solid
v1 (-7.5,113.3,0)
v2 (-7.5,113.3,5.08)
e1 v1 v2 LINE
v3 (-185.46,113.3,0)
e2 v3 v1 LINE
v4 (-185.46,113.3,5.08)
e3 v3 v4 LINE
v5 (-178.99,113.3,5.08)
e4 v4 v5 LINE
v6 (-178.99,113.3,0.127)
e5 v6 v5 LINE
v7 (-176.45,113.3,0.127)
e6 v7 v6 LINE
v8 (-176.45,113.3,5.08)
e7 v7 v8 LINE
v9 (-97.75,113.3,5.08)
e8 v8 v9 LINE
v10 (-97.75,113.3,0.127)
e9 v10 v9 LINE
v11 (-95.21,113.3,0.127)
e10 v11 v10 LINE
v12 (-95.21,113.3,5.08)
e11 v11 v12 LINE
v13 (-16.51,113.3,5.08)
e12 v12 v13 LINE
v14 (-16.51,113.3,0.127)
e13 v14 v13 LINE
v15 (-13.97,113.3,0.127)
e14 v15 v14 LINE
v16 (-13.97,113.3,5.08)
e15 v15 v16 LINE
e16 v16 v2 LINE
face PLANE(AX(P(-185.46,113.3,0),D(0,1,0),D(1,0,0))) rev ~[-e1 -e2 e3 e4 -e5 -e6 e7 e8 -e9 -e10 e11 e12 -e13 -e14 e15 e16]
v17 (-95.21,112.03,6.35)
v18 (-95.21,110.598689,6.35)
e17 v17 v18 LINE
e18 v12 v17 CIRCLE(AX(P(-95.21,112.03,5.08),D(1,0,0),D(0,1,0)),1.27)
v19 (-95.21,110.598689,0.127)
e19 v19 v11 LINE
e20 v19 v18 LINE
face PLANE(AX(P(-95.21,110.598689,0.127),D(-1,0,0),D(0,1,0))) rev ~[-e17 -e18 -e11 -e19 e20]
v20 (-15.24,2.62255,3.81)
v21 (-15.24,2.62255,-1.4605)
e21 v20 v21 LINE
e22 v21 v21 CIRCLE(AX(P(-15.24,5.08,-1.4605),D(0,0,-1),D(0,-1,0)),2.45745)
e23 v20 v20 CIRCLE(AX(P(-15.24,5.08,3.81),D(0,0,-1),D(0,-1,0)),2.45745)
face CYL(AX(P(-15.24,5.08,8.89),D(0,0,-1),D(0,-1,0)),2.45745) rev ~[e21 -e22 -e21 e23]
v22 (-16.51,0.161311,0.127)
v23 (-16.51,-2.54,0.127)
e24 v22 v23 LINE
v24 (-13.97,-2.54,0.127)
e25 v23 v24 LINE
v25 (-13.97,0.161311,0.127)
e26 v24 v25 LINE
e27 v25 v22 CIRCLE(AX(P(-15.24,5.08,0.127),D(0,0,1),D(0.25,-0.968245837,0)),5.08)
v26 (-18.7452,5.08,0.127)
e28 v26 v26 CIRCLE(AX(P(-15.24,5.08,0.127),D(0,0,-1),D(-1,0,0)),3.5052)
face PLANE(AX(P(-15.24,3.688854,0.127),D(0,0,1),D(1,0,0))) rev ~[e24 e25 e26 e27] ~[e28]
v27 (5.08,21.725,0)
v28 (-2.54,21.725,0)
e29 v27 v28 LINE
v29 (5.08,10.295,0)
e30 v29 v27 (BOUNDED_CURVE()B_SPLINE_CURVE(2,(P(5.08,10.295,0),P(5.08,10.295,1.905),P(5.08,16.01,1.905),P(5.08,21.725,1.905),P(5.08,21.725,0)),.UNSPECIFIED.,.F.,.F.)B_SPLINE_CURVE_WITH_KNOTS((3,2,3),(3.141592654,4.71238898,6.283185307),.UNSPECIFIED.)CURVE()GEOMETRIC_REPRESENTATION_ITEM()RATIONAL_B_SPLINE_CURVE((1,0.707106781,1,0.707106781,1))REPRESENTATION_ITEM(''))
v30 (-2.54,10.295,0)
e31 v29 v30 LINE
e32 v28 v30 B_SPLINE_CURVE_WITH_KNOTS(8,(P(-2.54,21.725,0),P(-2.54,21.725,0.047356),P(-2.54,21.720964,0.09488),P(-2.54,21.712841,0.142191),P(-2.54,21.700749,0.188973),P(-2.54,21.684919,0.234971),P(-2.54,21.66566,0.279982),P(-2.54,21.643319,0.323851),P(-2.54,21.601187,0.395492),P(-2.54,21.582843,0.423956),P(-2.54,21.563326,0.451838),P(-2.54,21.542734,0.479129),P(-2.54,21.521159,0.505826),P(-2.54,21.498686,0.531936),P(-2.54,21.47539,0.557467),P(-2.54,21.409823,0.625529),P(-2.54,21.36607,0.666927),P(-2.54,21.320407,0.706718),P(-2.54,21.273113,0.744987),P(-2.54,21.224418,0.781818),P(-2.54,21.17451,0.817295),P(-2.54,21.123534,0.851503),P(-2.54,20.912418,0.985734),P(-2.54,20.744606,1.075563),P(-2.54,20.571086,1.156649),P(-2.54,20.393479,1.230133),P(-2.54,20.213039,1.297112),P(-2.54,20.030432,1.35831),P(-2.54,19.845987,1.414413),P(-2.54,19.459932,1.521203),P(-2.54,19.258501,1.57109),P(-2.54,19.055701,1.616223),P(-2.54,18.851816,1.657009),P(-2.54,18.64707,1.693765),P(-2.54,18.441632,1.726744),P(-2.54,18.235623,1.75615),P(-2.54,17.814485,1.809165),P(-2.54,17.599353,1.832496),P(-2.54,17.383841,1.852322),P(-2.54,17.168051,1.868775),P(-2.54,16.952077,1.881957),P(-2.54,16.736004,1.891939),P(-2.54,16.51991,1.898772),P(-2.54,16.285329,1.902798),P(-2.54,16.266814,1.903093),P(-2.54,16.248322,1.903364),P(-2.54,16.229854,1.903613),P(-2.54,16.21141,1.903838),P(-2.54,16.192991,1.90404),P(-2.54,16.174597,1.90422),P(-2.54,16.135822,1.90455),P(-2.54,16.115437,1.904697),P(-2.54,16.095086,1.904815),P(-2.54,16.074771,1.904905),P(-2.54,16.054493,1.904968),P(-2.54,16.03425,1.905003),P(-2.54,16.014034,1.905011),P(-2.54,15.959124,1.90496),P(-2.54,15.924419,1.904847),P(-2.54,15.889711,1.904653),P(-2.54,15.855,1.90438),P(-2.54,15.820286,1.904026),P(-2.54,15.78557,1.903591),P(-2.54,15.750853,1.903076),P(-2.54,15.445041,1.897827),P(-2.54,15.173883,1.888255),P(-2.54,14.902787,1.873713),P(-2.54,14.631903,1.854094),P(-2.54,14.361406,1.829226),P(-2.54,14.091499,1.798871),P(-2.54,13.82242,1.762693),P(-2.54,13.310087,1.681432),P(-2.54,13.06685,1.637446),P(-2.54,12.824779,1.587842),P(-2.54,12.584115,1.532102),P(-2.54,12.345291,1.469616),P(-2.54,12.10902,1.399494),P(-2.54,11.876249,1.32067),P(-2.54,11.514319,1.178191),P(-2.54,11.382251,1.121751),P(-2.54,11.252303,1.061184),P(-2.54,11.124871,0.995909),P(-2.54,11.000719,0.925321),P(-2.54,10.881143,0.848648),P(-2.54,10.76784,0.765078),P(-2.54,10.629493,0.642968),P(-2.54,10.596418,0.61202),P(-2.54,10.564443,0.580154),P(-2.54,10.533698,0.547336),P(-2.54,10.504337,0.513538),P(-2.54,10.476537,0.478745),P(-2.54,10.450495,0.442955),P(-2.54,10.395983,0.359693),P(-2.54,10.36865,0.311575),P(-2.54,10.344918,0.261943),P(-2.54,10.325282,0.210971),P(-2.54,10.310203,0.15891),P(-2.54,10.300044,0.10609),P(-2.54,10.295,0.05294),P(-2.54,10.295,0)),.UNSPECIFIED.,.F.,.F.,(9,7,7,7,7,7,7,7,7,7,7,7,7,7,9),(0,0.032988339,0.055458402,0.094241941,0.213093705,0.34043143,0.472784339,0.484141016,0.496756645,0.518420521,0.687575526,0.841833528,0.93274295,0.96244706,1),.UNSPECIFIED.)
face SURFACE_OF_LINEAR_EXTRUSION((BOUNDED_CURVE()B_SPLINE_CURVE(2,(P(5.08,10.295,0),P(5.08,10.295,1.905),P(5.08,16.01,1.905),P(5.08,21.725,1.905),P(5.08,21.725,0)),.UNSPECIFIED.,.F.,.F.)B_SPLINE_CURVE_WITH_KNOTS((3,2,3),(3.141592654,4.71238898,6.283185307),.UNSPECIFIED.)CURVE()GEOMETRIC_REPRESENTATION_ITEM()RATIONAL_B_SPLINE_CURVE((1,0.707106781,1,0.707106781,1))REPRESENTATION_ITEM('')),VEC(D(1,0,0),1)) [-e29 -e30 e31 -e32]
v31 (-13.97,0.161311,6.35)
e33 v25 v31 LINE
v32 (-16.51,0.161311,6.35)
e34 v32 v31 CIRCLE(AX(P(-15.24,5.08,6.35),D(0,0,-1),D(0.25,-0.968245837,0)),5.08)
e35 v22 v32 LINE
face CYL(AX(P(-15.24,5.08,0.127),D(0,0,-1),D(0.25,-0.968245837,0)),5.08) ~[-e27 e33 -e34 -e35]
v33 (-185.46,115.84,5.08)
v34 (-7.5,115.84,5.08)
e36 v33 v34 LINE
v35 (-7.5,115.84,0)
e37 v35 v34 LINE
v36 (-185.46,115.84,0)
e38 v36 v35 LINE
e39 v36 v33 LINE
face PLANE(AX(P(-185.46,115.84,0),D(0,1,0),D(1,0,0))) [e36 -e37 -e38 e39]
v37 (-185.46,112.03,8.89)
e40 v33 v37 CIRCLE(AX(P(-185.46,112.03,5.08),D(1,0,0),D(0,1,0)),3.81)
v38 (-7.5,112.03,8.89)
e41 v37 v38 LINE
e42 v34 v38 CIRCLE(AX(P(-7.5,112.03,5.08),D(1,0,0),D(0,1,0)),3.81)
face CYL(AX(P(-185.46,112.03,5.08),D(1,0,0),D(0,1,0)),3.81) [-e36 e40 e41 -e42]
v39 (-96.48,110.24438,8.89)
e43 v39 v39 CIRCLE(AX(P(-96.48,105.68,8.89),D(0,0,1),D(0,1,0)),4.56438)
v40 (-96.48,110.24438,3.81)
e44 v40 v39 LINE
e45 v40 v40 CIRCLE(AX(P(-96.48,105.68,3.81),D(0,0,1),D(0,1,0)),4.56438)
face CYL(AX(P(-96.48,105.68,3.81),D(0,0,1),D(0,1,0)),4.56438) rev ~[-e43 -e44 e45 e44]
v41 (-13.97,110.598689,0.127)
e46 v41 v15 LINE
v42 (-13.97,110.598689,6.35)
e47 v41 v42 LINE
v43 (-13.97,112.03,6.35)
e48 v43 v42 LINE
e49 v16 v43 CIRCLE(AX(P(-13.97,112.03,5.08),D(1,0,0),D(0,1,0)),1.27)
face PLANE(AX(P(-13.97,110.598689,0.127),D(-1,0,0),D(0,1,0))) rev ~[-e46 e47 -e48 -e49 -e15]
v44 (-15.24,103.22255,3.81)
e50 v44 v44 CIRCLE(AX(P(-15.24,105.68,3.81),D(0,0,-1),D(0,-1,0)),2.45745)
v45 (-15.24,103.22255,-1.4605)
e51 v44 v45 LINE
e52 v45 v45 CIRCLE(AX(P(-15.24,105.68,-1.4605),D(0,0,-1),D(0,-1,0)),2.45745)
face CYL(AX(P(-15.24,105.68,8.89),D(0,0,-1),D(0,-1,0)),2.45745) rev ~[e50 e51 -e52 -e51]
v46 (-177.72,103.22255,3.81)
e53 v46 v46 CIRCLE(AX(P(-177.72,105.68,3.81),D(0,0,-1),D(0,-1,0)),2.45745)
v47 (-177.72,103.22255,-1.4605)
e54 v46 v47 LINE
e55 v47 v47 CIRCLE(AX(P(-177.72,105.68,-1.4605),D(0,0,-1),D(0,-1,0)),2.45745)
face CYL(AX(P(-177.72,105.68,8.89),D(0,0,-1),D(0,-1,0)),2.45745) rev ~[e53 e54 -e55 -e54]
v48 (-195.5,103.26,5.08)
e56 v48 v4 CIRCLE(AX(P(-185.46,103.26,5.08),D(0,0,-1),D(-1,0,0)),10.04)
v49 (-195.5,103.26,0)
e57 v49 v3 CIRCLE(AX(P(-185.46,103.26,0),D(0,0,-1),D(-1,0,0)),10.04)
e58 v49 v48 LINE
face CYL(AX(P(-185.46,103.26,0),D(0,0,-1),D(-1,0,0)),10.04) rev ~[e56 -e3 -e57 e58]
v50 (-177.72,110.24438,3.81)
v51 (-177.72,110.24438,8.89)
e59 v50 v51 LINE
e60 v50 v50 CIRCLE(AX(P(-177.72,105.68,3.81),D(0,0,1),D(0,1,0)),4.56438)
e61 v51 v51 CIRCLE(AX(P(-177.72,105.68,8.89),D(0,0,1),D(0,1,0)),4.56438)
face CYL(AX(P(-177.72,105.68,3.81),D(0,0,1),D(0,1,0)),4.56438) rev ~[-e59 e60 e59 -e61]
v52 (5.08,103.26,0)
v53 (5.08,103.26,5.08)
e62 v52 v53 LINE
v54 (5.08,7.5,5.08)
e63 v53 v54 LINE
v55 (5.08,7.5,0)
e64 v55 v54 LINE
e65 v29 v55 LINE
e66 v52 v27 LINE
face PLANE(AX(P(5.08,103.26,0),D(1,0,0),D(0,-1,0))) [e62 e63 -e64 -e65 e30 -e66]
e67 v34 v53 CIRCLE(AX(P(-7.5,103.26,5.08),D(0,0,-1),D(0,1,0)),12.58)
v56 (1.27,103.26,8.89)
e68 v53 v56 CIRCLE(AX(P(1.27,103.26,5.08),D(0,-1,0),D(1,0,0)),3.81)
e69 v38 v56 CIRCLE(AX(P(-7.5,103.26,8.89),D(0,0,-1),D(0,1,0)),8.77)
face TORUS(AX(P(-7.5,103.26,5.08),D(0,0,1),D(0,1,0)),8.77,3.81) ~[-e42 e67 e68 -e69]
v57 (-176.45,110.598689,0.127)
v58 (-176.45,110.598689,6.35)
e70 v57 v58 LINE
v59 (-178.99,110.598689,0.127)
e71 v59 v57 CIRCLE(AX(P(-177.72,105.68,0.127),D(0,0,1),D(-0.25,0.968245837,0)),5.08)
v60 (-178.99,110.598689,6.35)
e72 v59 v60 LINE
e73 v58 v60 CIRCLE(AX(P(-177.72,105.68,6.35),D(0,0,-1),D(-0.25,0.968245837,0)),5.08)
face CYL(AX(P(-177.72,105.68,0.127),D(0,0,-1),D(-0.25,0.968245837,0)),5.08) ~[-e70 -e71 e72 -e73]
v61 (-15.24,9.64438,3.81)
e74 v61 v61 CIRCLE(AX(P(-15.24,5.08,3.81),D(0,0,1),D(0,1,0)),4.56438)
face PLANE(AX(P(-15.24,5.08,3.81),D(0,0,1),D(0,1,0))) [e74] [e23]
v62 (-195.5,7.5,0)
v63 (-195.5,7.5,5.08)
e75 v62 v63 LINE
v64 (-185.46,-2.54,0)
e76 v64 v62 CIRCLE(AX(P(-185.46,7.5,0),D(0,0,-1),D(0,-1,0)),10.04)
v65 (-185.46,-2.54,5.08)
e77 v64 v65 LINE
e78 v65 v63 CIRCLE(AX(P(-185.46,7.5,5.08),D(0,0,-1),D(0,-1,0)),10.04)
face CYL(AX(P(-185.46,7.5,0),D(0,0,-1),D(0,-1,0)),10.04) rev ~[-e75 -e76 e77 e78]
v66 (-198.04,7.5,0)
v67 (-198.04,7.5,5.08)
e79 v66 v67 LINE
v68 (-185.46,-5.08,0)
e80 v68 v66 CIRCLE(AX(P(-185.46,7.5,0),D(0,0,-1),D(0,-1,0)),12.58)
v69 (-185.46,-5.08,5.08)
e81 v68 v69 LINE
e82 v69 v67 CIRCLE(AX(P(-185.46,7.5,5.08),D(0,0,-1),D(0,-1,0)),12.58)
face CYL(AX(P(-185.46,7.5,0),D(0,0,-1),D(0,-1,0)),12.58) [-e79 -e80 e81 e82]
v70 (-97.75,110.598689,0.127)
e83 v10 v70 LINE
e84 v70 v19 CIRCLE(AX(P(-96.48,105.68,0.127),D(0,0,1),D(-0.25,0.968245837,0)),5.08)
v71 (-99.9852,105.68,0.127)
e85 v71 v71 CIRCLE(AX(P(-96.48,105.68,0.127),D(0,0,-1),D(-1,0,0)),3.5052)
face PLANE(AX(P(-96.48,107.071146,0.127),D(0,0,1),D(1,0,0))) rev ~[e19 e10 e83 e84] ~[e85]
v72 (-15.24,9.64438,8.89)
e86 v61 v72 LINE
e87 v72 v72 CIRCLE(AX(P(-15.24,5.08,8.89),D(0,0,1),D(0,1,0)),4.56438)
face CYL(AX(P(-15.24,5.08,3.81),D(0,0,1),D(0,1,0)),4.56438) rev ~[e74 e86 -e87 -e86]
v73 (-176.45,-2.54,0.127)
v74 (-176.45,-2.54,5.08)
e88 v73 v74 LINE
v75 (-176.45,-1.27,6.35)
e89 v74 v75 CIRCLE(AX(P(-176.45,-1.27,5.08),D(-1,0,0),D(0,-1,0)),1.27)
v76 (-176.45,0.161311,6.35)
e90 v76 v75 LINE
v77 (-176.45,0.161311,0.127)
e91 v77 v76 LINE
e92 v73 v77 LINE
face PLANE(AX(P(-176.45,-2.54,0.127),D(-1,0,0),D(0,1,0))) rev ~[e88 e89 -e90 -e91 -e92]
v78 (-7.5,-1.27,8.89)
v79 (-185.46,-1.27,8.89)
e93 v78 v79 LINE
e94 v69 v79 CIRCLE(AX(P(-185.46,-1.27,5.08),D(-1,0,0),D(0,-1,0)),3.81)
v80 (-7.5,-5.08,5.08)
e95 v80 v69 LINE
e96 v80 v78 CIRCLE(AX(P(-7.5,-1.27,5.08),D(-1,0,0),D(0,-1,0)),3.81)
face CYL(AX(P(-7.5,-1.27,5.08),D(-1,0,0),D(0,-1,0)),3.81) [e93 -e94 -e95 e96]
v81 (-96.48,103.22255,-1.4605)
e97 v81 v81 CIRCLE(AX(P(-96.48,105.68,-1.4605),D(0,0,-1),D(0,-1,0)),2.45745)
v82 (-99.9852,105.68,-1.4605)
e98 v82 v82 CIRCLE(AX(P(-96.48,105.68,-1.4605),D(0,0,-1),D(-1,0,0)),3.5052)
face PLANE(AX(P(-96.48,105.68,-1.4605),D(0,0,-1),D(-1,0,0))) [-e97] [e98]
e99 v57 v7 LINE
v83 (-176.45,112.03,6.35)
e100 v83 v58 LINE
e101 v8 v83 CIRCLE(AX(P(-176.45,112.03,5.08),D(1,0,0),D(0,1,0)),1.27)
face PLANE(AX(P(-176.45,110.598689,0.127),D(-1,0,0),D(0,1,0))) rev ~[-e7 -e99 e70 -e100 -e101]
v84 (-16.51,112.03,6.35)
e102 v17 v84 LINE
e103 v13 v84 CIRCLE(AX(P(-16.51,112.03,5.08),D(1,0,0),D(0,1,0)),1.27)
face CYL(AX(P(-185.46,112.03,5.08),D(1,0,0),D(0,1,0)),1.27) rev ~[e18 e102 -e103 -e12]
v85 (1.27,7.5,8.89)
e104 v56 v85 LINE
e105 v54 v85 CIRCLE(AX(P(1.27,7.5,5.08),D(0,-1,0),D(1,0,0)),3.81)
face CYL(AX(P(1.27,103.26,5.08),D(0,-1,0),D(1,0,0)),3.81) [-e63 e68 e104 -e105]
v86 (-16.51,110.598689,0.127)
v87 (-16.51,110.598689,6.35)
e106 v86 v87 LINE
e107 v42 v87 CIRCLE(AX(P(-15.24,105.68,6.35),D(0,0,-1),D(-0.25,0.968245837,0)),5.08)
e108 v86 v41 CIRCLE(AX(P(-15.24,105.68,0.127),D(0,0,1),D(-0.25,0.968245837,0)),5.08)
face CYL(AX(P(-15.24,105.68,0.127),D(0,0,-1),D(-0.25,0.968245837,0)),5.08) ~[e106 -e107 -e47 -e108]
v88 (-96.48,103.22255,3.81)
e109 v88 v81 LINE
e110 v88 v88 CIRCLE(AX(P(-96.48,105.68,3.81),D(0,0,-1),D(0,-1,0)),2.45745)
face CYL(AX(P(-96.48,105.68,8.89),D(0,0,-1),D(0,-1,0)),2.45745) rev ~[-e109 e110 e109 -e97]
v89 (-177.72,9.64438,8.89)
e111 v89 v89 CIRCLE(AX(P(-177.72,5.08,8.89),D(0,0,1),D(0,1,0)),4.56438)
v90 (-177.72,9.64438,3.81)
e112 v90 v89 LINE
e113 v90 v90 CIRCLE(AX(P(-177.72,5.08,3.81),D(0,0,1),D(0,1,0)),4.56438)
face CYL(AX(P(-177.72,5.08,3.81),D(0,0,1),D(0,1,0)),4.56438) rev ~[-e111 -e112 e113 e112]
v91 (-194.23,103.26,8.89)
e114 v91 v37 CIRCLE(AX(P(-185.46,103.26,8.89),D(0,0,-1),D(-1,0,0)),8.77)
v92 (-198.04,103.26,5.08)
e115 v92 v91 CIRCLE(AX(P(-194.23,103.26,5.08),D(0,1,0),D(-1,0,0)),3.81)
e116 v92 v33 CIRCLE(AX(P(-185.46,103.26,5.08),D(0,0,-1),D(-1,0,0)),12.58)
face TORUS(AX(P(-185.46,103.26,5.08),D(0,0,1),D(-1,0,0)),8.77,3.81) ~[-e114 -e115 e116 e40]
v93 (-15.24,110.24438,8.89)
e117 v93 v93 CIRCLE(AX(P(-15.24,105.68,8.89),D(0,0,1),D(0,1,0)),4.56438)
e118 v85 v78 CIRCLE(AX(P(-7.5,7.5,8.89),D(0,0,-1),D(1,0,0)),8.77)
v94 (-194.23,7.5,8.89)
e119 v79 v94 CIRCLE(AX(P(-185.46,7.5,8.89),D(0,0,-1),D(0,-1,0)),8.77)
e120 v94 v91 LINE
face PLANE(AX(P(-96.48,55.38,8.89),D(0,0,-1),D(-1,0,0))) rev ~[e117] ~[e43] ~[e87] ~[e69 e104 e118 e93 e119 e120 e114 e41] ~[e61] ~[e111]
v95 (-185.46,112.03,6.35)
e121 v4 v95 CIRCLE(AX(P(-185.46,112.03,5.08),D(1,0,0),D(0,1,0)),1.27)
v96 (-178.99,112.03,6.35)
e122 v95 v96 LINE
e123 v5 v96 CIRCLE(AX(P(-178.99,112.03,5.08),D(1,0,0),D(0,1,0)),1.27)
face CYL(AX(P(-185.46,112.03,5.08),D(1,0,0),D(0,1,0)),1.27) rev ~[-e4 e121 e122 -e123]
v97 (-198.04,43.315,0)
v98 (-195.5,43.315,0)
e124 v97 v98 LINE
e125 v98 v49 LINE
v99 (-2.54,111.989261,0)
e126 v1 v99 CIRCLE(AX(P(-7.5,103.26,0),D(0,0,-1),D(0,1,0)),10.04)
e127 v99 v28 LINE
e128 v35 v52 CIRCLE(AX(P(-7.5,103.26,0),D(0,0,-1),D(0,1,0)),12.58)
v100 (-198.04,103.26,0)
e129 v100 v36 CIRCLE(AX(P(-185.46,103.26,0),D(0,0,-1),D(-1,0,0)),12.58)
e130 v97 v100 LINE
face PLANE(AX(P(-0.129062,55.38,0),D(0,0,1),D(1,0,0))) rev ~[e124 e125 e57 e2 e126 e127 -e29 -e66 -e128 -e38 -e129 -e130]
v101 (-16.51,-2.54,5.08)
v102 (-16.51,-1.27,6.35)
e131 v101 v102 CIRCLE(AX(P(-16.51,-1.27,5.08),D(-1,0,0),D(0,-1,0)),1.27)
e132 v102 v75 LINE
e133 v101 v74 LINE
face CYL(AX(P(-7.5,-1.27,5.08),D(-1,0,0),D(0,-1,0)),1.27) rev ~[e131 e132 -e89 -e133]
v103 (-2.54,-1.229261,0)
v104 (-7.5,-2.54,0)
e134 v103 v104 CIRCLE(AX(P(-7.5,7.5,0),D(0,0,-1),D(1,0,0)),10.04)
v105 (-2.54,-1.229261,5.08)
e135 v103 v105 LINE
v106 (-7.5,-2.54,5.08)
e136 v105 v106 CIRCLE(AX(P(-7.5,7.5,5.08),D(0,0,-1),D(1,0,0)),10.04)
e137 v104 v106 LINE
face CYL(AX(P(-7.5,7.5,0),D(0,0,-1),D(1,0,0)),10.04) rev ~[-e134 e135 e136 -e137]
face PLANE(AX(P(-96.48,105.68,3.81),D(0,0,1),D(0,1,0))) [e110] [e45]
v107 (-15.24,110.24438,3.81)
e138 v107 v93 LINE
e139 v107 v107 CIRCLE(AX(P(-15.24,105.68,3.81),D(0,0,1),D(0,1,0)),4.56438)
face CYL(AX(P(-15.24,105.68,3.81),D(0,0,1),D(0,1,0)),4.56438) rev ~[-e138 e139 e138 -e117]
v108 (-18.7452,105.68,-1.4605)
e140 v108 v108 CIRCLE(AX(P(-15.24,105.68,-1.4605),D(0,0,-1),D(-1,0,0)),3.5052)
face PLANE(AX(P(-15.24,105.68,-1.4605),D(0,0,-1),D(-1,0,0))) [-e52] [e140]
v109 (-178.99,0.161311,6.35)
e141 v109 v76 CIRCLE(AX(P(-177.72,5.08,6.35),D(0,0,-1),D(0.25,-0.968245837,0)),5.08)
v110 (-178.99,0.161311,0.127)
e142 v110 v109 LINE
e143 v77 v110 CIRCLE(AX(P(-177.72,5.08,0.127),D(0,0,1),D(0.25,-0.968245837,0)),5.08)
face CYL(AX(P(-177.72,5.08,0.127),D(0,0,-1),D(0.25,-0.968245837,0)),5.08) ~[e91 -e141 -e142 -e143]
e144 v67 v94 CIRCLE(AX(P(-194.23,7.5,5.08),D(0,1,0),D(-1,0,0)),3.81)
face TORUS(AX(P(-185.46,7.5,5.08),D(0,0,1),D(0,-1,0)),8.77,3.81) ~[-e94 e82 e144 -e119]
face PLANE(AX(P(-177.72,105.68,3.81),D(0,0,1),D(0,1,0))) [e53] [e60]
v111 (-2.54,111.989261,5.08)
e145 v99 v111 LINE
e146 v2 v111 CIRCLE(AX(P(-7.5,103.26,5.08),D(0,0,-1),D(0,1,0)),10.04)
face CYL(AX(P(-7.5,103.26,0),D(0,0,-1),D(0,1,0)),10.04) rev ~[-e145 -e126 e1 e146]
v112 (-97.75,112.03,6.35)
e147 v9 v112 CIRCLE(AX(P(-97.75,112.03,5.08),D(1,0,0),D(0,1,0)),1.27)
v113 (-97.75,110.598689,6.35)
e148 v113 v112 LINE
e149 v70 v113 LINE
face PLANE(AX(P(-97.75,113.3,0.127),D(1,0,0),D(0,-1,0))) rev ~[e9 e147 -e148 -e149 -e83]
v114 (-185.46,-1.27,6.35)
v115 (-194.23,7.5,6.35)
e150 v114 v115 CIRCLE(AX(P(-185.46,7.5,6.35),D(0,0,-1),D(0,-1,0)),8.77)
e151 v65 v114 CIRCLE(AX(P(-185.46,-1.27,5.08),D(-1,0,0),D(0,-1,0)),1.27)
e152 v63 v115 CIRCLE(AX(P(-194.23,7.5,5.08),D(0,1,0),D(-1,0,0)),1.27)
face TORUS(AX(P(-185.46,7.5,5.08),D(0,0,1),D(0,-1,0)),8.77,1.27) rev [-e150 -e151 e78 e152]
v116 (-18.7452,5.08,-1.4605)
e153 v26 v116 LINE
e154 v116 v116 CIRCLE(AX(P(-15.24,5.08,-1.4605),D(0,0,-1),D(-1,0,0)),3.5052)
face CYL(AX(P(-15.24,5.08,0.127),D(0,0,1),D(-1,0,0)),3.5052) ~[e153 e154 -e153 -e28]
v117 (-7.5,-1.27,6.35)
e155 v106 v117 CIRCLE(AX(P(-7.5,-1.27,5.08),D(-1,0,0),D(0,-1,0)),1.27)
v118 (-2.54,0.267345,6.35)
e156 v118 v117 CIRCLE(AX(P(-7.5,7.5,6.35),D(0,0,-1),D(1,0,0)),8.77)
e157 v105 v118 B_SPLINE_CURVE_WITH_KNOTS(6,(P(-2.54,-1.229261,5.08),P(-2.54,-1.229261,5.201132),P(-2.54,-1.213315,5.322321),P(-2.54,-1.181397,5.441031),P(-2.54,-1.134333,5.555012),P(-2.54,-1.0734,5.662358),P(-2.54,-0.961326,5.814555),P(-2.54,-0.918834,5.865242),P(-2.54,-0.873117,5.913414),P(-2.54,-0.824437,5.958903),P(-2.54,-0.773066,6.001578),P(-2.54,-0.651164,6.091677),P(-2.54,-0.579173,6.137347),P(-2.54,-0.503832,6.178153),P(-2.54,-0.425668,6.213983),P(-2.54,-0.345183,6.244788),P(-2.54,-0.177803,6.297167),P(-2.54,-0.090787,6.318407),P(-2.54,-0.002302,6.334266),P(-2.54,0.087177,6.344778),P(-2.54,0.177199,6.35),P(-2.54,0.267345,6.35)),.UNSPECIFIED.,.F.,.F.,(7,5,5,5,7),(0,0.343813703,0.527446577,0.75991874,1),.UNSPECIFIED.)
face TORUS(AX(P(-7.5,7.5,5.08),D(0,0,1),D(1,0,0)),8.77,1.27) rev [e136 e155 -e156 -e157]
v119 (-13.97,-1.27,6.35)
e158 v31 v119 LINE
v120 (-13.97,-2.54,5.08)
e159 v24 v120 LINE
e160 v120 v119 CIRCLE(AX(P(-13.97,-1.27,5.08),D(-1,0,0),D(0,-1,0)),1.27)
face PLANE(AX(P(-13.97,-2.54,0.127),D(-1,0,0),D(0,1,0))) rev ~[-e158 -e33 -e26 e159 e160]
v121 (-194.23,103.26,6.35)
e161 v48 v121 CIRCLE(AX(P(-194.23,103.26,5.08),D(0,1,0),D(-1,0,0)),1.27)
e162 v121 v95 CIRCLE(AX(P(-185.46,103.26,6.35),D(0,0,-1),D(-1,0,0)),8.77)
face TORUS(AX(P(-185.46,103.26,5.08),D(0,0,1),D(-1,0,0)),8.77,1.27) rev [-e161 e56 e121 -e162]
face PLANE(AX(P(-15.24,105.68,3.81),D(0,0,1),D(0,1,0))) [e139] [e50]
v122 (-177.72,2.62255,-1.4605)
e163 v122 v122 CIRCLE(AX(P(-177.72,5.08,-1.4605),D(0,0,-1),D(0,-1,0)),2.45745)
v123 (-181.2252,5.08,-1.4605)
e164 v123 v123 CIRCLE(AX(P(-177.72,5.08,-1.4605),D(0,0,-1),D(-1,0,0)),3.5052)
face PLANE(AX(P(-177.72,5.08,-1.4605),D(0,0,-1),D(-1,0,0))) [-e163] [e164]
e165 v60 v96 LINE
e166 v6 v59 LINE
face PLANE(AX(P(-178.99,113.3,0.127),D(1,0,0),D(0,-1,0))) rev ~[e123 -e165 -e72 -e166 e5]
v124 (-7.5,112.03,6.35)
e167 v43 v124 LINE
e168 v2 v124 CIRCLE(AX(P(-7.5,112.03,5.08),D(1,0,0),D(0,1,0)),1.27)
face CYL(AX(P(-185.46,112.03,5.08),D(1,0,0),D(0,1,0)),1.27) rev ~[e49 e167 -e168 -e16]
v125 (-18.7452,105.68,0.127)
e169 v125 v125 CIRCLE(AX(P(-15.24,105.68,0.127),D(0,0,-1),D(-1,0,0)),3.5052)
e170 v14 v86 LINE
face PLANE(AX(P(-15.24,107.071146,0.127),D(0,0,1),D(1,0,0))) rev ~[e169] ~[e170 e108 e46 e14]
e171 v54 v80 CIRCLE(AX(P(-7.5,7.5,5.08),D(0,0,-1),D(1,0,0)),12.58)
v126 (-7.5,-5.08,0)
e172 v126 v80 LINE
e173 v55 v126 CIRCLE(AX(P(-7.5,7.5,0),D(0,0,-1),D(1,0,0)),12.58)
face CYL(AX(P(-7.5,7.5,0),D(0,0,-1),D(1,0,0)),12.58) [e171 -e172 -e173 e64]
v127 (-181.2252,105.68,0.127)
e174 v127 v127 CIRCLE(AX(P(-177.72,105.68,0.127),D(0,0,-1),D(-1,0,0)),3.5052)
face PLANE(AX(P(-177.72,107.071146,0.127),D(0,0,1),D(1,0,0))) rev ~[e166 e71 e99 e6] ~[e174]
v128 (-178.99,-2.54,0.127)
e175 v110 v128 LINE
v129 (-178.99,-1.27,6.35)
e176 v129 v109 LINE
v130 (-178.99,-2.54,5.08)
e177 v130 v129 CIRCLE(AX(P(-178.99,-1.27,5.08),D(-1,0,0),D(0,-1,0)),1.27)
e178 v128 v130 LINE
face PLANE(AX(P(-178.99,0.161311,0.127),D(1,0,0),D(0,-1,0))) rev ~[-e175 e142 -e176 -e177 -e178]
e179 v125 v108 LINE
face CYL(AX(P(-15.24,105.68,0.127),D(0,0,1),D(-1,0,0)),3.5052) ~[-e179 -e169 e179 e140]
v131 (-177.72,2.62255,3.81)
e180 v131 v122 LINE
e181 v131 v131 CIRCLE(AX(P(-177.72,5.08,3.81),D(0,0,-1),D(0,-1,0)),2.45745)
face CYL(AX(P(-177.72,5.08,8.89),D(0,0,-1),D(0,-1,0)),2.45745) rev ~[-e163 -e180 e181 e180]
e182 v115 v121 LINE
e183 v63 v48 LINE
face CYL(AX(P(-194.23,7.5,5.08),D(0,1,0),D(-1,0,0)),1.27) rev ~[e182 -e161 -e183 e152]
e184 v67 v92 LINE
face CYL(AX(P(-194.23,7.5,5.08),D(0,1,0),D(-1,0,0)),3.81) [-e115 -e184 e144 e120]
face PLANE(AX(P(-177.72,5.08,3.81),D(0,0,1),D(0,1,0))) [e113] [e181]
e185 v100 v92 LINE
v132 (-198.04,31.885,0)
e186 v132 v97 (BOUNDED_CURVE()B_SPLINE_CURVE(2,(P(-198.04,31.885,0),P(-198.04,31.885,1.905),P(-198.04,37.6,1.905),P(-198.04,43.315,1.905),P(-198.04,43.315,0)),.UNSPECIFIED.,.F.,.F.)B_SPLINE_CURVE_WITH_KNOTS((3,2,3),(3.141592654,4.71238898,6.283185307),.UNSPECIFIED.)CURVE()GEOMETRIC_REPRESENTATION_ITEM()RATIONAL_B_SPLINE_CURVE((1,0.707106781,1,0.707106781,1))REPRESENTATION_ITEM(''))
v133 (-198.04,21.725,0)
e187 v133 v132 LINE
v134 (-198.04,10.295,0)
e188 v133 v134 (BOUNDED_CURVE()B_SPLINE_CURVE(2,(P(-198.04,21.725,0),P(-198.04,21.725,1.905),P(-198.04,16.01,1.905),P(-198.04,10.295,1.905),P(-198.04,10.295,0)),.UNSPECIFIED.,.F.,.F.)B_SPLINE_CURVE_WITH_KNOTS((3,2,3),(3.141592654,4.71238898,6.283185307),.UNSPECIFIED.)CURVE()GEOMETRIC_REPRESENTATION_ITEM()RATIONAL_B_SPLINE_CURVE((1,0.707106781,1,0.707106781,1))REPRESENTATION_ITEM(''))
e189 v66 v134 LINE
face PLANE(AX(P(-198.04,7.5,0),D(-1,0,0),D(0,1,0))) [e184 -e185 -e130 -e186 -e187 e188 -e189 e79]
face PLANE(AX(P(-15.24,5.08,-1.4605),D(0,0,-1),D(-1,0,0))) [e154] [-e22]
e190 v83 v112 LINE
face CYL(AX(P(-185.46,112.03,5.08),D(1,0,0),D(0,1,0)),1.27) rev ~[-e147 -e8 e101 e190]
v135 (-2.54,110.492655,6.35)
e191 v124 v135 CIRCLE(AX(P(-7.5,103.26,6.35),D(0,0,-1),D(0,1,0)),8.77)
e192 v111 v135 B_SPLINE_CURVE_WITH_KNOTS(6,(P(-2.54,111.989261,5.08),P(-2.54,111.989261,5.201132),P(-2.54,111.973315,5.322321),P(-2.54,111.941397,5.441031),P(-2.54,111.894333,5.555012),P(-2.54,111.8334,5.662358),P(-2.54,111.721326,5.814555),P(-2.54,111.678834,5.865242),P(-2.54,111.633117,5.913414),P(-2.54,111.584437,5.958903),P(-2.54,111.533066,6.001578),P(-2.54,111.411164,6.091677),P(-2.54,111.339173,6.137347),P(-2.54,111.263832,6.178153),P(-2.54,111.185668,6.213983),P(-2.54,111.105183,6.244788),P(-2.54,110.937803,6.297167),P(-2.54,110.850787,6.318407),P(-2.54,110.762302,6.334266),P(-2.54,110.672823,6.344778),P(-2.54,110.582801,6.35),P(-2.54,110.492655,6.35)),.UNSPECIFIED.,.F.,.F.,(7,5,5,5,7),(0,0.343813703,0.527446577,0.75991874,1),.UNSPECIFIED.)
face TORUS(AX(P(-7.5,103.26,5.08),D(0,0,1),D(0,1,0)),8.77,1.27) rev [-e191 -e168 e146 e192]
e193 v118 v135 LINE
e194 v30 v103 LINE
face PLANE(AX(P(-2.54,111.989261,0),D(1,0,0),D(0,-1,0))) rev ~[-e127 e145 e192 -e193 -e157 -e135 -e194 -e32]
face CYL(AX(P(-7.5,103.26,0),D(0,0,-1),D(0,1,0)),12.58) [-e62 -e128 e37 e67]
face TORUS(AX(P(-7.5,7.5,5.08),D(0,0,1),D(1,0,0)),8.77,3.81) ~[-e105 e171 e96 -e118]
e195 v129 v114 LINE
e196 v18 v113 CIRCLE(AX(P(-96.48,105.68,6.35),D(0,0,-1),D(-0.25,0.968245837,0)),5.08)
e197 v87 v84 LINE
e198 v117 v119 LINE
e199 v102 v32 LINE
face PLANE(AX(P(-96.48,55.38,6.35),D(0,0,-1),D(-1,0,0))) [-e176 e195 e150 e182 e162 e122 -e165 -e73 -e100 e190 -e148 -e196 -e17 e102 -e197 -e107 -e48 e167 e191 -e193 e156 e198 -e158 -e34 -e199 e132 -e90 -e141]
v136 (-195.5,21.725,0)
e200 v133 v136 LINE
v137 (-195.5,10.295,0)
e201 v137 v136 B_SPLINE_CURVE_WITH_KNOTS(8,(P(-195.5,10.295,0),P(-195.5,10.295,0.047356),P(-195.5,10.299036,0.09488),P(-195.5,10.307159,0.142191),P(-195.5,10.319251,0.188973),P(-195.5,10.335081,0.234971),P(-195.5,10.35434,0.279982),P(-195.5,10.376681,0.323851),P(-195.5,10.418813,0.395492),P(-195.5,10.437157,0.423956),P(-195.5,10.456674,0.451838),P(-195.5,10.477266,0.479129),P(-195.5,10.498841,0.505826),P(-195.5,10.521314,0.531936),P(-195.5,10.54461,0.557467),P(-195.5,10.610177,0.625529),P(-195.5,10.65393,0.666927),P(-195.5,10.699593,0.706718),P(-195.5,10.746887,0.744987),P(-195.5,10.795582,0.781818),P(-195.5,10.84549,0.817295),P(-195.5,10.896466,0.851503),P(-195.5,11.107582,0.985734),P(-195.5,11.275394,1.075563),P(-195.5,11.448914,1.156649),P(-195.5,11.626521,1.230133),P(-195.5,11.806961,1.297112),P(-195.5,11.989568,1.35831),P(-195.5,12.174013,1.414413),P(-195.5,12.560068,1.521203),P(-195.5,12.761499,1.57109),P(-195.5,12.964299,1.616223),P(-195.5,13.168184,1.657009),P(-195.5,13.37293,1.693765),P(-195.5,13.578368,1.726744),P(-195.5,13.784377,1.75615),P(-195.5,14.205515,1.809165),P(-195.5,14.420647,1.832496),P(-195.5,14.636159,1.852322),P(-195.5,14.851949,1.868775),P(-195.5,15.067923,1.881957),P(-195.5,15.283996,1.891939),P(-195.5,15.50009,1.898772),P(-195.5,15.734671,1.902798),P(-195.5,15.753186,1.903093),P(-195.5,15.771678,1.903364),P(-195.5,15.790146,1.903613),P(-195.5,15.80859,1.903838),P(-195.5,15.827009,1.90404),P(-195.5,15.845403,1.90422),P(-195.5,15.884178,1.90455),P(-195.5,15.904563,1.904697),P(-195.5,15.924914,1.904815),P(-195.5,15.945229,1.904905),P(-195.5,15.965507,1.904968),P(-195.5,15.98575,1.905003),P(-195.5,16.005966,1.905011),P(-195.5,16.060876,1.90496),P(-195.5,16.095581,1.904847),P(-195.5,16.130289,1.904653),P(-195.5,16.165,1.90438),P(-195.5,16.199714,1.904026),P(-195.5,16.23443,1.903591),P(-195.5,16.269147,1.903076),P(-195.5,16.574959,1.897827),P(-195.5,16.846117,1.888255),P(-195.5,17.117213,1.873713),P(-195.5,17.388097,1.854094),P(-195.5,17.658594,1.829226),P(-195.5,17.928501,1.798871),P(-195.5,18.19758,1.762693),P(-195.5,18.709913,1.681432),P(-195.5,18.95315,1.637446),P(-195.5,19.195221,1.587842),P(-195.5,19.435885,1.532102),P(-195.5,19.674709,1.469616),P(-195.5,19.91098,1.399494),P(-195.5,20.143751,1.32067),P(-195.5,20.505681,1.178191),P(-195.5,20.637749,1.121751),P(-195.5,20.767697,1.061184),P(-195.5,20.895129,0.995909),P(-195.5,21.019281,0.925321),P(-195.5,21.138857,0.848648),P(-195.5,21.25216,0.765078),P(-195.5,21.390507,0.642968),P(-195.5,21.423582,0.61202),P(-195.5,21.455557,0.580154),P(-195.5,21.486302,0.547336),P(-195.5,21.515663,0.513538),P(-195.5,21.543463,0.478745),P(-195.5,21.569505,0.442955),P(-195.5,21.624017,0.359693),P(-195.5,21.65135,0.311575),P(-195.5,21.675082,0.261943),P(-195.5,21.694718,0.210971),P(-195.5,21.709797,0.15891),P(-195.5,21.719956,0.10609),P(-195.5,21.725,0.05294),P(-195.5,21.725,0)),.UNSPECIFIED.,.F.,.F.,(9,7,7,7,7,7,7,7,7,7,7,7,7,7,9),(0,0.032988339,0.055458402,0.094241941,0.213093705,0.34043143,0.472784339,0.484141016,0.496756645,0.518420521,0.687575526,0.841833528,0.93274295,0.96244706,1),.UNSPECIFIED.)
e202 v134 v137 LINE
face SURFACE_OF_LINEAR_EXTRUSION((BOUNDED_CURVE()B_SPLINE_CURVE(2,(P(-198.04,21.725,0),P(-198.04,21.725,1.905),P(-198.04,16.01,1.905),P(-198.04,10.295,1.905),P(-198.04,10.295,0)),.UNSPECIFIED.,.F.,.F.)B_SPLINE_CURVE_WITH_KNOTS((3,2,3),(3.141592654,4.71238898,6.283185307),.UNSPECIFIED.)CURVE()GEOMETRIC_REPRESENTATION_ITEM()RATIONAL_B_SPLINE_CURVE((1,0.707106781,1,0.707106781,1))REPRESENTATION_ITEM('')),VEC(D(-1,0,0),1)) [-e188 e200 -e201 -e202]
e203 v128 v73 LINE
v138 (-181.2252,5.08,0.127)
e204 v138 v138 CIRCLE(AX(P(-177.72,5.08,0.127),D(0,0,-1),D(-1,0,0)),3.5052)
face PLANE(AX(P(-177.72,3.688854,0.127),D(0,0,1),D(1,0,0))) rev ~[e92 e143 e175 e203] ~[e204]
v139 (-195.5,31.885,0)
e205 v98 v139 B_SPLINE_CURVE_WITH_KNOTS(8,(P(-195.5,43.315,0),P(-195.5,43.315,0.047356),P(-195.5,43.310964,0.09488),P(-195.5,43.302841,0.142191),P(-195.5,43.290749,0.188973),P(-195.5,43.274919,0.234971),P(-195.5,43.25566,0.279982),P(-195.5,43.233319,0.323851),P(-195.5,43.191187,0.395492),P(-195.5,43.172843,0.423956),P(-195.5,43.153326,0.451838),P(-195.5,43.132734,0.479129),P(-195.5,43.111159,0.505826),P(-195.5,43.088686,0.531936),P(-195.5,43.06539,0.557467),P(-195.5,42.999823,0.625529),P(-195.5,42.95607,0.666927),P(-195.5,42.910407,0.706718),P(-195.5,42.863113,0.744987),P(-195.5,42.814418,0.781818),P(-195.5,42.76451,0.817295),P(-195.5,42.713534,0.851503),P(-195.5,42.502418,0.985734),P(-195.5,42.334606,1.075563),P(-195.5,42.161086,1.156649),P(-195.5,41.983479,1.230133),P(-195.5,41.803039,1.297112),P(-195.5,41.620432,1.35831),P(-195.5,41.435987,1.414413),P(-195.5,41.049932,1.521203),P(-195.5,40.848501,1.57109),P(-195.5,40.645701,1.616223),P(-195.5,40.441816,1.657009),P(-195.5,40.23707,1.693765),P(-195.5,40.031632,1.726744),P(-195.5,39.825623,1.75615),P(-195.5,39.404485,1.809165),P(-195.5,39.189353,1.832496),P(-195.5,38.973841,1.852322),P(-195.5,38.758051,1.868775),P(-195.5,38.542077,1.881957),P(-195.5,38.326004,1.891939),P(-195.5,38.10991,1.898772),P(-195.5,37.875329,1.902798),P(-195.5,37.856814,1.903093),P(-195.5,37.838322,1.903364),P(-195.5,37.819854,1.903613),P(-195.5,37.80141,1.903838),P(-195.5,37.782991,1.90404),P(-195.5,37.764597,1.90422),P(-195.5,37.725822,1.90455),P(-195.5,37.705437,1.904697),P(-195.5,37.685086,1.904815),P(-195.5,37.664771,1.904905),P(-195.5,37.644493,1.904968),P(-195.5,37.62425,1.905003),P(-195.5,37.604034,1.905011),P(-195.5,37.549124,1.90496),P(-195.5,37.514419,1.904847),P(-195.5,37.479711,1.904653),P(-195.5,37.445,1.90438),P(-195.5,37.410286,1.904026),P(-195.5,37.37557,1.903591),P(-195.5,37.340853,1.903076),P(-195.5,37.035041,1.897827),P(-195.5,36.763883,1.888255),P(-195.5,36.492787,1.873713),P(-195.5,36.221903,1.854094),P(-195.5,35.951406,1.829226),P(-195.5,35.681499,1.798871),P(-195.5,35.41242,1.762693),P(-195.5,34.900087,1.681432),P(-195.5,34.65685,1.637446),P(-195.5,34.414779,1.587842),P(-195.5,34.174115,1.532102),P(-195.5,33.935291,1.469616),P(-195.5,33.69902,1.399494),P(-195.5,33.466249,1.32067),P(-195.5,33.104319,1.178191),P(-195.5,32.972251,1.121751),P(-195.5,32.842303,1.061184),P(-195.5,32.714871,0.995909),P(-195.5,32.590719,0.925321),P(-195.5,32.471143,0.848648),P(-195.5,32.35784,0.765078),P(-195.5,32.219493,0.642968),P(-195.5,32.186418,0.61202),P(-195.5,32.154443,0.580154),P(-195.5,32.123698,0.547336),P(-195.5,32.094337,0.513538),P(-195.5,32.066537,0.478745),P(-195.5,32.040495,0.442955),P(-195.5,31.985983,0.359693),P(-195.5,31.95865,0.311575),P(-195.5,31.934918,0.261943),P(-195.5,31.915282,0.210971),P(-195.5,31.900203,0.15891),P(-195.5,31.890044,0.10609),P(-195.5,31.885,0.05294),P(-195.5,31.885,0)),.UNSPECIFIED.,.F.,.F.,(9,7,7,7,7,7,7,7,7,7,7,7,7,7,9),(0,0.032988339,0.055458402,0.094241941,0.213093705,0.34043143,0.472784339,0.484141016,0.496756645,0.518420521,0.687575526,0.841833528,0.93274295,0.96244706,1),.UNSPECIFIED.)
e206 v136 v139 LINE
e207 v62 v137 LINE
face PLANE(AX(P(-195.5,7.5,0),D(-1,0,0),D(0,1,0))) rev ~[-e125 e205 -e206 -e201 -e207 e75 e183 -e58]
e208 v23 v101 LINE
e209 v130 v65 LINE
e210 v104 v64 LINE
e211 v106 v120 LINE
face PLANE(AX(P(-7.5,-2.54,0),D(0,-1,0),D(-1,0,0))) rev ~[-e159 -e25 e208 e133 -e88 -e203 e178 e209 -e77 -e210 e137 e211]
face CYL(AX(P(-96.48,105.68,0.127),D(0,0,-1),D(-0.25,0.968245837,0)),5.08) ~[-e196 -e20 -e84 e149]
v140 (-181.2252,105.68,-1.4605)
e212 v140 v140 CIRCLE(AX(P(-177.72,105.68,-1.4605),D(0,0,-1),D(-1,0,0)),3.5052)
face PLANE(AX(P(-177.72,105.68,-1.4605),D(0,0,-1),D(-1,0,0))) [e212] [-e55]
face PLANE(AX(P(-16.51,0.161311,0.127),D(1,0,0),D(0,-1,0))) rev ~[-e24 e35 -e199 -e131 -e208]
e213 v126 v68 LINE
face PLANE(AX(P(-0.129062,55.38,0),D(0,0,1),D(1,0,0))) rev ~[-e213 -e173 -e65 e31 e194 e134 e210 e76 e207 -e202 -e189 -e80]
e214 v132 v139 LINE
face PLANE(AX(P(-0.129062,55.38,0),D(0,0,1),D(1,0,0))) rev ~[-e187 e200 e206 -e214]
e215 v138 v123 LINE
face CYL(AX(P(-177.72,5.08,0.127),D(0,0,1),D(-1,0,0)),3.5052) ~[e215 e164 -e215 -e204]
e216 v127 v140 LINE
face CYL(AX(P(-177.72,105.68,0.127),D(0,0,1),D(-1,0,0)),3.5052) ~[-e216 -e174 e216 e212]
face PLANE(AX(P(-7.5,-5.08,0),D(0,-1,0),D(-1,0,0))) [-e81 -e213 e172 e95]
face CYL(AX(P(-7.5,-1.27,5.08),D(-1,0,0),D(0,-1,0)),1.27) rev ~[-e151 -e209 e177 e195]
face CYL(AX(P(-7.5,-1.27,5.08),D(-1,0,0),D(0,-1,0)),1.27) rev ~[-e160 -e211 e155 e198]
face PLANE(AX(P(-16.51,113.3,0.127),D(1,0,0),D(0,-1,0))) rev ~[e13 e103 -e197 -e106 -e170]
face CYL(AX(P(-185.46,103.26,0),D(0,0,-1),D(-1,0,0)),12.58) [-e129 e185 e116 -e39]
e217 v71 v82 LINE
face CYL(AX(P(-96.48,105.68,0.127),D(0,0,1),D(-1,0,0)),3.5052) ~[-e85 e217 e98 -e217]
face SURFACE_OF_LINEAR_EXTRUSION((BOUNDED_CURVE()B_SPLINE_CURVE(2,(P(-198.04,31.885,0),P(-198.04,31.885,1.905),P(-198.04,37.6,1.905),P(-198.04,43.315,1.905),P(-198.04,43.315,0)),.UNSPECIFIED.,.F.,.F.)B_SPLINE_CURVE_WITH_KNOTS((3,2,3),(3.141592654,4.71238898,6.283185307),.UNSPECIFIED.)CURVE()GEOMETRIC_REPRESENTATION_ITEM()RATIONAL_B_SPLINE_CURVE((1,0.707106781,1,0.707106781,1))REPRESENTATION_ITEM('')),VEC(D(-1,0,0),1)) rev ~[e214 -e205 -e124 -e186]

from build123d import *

# Parameters (mm, degrees)
BOSS_EXTRUDE1_DEPTH                             = 8.89
FILLET1_R                                       = 3.81
SHELL1_T                                        = -2.54
BOSS_EXTRUDE4_REACH                             = 10.89
BOSS_EXTRUDE2_REACH                             = 10.763
SKETCH3_R                                       = 3.5052
BOSS_EXTRUDE3_DEPTH                             = 1.5875
CBORE_FOR_8_PAN_HEAD_MACHINE_SCREW1_D           = 4.9149
CBORE_FOR_8_PAN_HEAD_MACHINE_SCREW1_CBORE_D     = 9.12876
CBORE_FOR_8_PAN_HEAD_MACHINE_SCREW1_CBORE_DEPTH = 5.08
CUT_EXTRUDE1_REACH                              = 205.12
CUT_EXTRUDE3_REACH                              = 205.12
CUT_EXTRUDE4_REACH                              = 205.12


with BuildPart() as part:
    # Sketch1 → Boss-Extrude1 (new body)
    with BuildSketch(Plane.XY):
        with BuildLine():
            Line((5.08, 103.26), (5.08, 21.725))
            Line((5.08, 21.725), (5.08, 7.5))
            ThreePointArc((5.08, 7.5), (1.395403307, -1.395403307), (-7.5, -5.08))
            Line((-7.5, -5.08), (-185.46, -5.08))
            ThreePointArc((-185.46, -5.08), (-194.355403307, -1.395403307), (-198.04, 7.5))
            Line((-198.04, 7.5), (-198.04, 103.26))
            ThreePointArc((-198.04, 103.26), (-194.355403307, 112.155403307), (-185.46, 115.84))
            Line((-185.46, 115.84), (-7.5, 115.84))
            ThreePointArc((-7.5, 115.84), (1.395403307, 112.155403307), (5.08, 103.26))
        make_face()
    extrude(amount=BOSS_EXTRUDE1_DEPTH)

    # Fillet1
    fillet1_edges = [part.edges().sort_by_distance(p)[0] for p in [
        (-96.48, -5.08, 8.89),
        (1.395403307, -1.395403307, 8.89),
        (5.08, 55.38, 8.89),
        (1.395403307, 112.155403307, 8.89),
        (-96.48, 115.84, 8.89),
        (-194.355403307, 112.155403307, 8.89),
        (-198.04, 55.38, 8.89),
        (-194.355403307, -1.395403307, 8.89),
    ]]
    fillet(fillet1_edges, radius=FILLET1_R)

    # Shell1
    shell1_openings = [part.faces().sort_by_distance(p)[0] for p in [
        (-96.48, 55.38, 0),
    ]]
    offset(amount=SHELL1_T, openings=shell1_openings, kind=Kind.INTERSECTION)

    # Sketch7 → Boss-Extrude4 (add, up to next)
    with BuildSketch(Plane(origin=(0, 0, 0), x_dir=(-1, 0, 0), z_dir=(0, 0, -1)), mode=Mode.PRIVATE) as boss_extrude4_sk1:
        with BuildLine():
            Line((-2.54, 7.5), (-2.54, 103.26))
            ThreePointArc((-2.54, 103.26), (-1.17755726, 108.30991089), (2.54, 111.989261137))
            Line((2.54, 111.989261137), (2.54, 95.52))
            Line((2.54, 95.52), (2.54, 92.98))
            Line((2.54, 92.98), (2.54, 21.725))
            Line((2.54, 21.725), (2.54, 10.295))
            Line((2.54, 10.295), (2.54, -1.229261137))
            ThreePointArc((2.54, -1.229261137), (-1.17755726, 2.45008911), (-2.54, 7.5))
        make_face()
    boss_extrude4_tool1 = extrude(boss_extrude4_sk1.sketch, amount=-BOSS_EXTRUDE4_REACH, mode=Mode.PRIVATE) - part.part
    add(boss_extrude4_tool1.solids().sort_by_distance((-0.052284, 55.38, 0))[0])

    # Sketch2 → Boss-Extrude2 (add, up to next)
    with BuildSketch(Plane(origin=(0, 0, 0.127), x_dir=(-1, 0, 0), z_dir=(0, 0, -1)), mode=Mode.PRIVATE) as boss_extrude2_sk1:
        with BuildLine():
            Line((13.97, 110.59868885), (13.97, 113.3))
            Line((13.97, 113.3), (16.51, 113.3))
            Line((16.51, 113.3), (16.51, 110.59868885))
            ThreePointArc((16.51, 110.59868885), (15.24, 100.6), (13.97, 110.59868885))
        make_face()
    boss_extrude2_tool1 = extrude(boss_extrude2_sk1.sketch, amount=-BOSS_EXTRUDE2_REACH, mode=Mode.PRIVATE) - part.part
    add(boss_extrude2_tool1.solids().sort_by_distance((-15.24, 106.155134, 0.127))[0])
    # Sketch2 → Boss-Extrude2 (add, up to next)
    with BuildSketch(Plane(origin=(0, 0, 0.127), x_dir=(-1, 0, 0), z_dir=(0, 0, -1)), mode=Mode.PRIVATE) as boss_extrude2_sk2:
        with BuildLine():
            Line((95.21, 110.59868885), (95.21, 113.3))
            Line((95.21, 113.3), (97.75, 113.3))
            Line((97.75, 113.3), (97.75, 110.59868885))
            ThreePointArc((97.75, 110.59868885), (96.48, 100.6), (95.21, 110.59868885))
        make_face()
    boss_extrude2_tool2 = extrude(boss_extrude2_sk2.sketch, amount=-BOSS_EXTRUDE2_REACH, mode=Mode.PRIVATE) - part.part
    add(boss_extrude2_tool2.solids().sort_by_distance((-96.48, 106.155134, 0.127))[0])
    # Sketch2 → Boss-Extrude2 (add, up to next)
    with BuildSketch(Plane(origin=(0, 0, 0.127), x_dir=(-1, 0, 0), z_dir=(0, 0, -1)), mode=Mode.PRIVATE) as boss_extrude2_sk3:
        with BuildLine():
            Line((176.45, 110.59868885), (176.45, 113.3))
            Line((176.45, 113.3), (178.99, 113.3))
            Line((178.99, 113.3), (178.99, 110.59868885))
            ThreePointArc((178.99, 110.59868885), (177.72, 100.6), (176.45, 110.59868885))
        make_face()
    boss_extrude2_tool3 = extrude(boss_extrude2_sk3.sketch, amount=-BOSS_EXTRUDE2_REACH, mode=Mode.PRIVATE) - part.part
    add(boss_extrude2_tool3.solids().sort_by_distance((-177.72, 106.155134, 0.127))[0])
    # Sketch2 → Boss-Extrude2 (add, up to next)
    with BuildSketch(Plane(origin=(0, 0, 0.127), x_dir=(-1, 0, 0), z_dir=(0, 0, -1)), mode=Mode.PRIVATE) as boss_extrude2_sk4:
        with BuildLine():
            Line((176.45, -2.54), (176.45, 0.16131115))
            ThreePointArc((176.45, 0.16131115), (177.72, 10.16), (178.99, 0.16131115))
            Line((178.99, 0.16131115), (178.99, -2.54))
            Line((178.99, -2.54), (176.45, -2.54))
        make_face()
    boss_extrude2_tool4 = extrude(boss_extrude2_sk4.sketch, amount=-BOSS_EXTRUDE2_REACH, mode=Mode.PRIVATE) - part.part
    add(boss_extrude2_tool4.solids().sort_by_distance((-177.72, 4.604866, 0.127))[0])
    # Sketch2 → Boss-Extrude2 (add, up to next)
    with BuildSketch(Plane(origin=(0, 0, 0.127), x_dir=(-1, 0, 0), z_dir=(0, 0, -1)), mode=Mode.PRIVATE) as boss_extrude2_sk5:
        with BuildLine():
            Line((13.97, -2.54), (13.97, 0.16131115))
            ThreePointArc((13.97, 0.16131115), (15.24, 10.16), (16.51, 0.16131115))
            Line((16.51, 0.16131115), (16.51, -2.54))
            Line((16.51, -2.54), (13.97, -2.54))
        make_face()
    boss_extrude2_tool5 = extrude(boss_extrude2_sk5.sketch, amount=-BOSS_EXTRUDE2_REACH, mode=Mode.PRIVATE) - part.part
    add(boss_extrude2_tool5.solids().sort_by_distance((-15.24, 4.604866, 0.127))[0])

    # Sketch3 → Boss-Extrude3 (add)
    with BuildSketch(Plane(origin=(0, 0, 0.127), x_dir=(-1, 0, 0), z_dir=(0, 0, -1))):
        with Locations((15.24, 105.68)):
            Circle(SKETCH3_R)
        with Locations((96.48, 105.68)):
            Circle(SKETCH3_R)
        with Locations((177.72, 105.68)):
            Circle(SKETCH3_R)
        with Locations((177.72, 5.08)):
            Circle(SKETCH3_R)
        with Locations((15.24, 5.08)):
            Circle(SKETCH3_R)
    extrude(amount=BOSS_EXTRUDE3_DEPTH)

    # CBORE for #8 Pan Head Machine Screw1 (through all)
    with Locations(Plane(origin=(-15.24, 5.08, 8.89), x_dir=(0, 1, 0), z_dir=(0, 0, 1))):
        with Locations((0, 0), (0, 162.48), (100.6, 162.48), (100.6, 81.24), (100.6, 0)):
            CounterBoreHole(CBORE_FOR_8_PAN_HEAD_MACHINE_SCREW1_D / 2, CBORE_FOR_8_PAN_HEAD_MACHINE_SCREW1_CBORE_D / 2, CBORE_FOR_8_PAN_HEAD_MACHINE_SCREW1_CBORE_DEPTH)

    # Sketch5 → Cut-Extrude1 (cut, up to next)
    with BuildSketch(Plane(origin=(-198.04, 192.96, 0), x_dir=(0, 1, 0), z_dir=(1, 0, 0)), mode=Mode.PRIVATE) as cut_extrude1_sk1:
        with BuildLine():
            Line((-171.235, 0), (-182.665, 0))
            add(Edge.make_bspline(
                [(-171.235, 0), (-171.235, 1.905), (-176.95, 1.905), (-182.665, 1.905), (-182.665, 0)],
                knots=[3.141592654, 3.141592654, 3.141592654, 4.71238898, 4.71238898, 6.283185307, 6.283185307, 6.283185307], degree=2, weights=[1, 0.707106781, 1, 0.707106781, 1]))
        make_face()
    cut_extrude1_tool1 = extrude(cut_extrude1_sk1.sketch, amount=CUT_EXTRUDE1_REACH, mode=Mode.PRIVATE) & part.part
    add(cut_extrude1_tool1.solids().sort_by_distance((-198.04, 16.01, 0.808344))[0], mode=Mode.SUBTRACT)

    # Sketch6 → Cut-Extrude3 (cut, up to next)
    with BuildSketch(Plane(origin=(5.08, -160.94, 0), x_dir=(0, -1, 0), z_dir=(-1, 0, 0)), mode=Mode.PRIVATE) as cut_extrude3_sk1:
        with BuildLine():
            Line((-171.235, 0), (-182.665, 0))
            add(Edge.make_bspline(
                [(-171.235, 0), (-171.235, 1.905), (-176.95, 1.905), (-182.665, 1.905), (-182.665, 0)],
                knots=[3.141592654, 3.141592654, 3.141592654, 4.71238898, 4.71238898, 6.283185307, 6.283185307, 6.283185307], degree=2, weights=[1, 0.707106781, 1, 0.707106781, 1]))
        make_face()
    cut_extrude3_tool1 = extrude(cut_extrude3_sk1.sketch, amount=CUT_EXTRUDE3_REACH, mode=Mode.PRIVATE) & part.part
    add(cut_extrude3_tool1.solids().sort_by_distance((5.08, 16.01, 0.808344))[0], mode=Mode.SUBTRACT)

    # Sketch8 → Cut-Extrude4 (cut, up to next)
    with BuildSketch(Plane(origin=(-198.04, -139.35, 0), x_dir=(0, -1, 0), z_dir=(-1, 0, 0)), mode=Mode.PRIVATE) as cut_extrude4_sk1:
        with BuildLine():
            Line((-171.235, 0), (-182.665, 0))
            add(Edge.make_bspline(
                [(-171.235, 0), (-171.235, 1.905), (-176.95, 1.905), (-182.665, 1.905), (-182.665, 0)],
                knots=[3.141592654, 3.141592654, 3.141592654, 4.71238898, 4.71238898, 6.283185307, 6.283185307, 6.283185307], degree=2, weights=[1, 0.707106781, 1, 0.707106781, 1]))
        make_face()
    cut_extrude4_tool1 = extrude(cut_extrude4_sk1.sketch, amount=-CUT_EXTRUDE4_REACH, mode=Mode.PRIVATE) & part.part
    add(cut_extrude4_tool1.solids().sort_by_distance((-198.04, 37.6, 0.808344))[0], mode=Mode.SUBTRACT)


solid = part.part
